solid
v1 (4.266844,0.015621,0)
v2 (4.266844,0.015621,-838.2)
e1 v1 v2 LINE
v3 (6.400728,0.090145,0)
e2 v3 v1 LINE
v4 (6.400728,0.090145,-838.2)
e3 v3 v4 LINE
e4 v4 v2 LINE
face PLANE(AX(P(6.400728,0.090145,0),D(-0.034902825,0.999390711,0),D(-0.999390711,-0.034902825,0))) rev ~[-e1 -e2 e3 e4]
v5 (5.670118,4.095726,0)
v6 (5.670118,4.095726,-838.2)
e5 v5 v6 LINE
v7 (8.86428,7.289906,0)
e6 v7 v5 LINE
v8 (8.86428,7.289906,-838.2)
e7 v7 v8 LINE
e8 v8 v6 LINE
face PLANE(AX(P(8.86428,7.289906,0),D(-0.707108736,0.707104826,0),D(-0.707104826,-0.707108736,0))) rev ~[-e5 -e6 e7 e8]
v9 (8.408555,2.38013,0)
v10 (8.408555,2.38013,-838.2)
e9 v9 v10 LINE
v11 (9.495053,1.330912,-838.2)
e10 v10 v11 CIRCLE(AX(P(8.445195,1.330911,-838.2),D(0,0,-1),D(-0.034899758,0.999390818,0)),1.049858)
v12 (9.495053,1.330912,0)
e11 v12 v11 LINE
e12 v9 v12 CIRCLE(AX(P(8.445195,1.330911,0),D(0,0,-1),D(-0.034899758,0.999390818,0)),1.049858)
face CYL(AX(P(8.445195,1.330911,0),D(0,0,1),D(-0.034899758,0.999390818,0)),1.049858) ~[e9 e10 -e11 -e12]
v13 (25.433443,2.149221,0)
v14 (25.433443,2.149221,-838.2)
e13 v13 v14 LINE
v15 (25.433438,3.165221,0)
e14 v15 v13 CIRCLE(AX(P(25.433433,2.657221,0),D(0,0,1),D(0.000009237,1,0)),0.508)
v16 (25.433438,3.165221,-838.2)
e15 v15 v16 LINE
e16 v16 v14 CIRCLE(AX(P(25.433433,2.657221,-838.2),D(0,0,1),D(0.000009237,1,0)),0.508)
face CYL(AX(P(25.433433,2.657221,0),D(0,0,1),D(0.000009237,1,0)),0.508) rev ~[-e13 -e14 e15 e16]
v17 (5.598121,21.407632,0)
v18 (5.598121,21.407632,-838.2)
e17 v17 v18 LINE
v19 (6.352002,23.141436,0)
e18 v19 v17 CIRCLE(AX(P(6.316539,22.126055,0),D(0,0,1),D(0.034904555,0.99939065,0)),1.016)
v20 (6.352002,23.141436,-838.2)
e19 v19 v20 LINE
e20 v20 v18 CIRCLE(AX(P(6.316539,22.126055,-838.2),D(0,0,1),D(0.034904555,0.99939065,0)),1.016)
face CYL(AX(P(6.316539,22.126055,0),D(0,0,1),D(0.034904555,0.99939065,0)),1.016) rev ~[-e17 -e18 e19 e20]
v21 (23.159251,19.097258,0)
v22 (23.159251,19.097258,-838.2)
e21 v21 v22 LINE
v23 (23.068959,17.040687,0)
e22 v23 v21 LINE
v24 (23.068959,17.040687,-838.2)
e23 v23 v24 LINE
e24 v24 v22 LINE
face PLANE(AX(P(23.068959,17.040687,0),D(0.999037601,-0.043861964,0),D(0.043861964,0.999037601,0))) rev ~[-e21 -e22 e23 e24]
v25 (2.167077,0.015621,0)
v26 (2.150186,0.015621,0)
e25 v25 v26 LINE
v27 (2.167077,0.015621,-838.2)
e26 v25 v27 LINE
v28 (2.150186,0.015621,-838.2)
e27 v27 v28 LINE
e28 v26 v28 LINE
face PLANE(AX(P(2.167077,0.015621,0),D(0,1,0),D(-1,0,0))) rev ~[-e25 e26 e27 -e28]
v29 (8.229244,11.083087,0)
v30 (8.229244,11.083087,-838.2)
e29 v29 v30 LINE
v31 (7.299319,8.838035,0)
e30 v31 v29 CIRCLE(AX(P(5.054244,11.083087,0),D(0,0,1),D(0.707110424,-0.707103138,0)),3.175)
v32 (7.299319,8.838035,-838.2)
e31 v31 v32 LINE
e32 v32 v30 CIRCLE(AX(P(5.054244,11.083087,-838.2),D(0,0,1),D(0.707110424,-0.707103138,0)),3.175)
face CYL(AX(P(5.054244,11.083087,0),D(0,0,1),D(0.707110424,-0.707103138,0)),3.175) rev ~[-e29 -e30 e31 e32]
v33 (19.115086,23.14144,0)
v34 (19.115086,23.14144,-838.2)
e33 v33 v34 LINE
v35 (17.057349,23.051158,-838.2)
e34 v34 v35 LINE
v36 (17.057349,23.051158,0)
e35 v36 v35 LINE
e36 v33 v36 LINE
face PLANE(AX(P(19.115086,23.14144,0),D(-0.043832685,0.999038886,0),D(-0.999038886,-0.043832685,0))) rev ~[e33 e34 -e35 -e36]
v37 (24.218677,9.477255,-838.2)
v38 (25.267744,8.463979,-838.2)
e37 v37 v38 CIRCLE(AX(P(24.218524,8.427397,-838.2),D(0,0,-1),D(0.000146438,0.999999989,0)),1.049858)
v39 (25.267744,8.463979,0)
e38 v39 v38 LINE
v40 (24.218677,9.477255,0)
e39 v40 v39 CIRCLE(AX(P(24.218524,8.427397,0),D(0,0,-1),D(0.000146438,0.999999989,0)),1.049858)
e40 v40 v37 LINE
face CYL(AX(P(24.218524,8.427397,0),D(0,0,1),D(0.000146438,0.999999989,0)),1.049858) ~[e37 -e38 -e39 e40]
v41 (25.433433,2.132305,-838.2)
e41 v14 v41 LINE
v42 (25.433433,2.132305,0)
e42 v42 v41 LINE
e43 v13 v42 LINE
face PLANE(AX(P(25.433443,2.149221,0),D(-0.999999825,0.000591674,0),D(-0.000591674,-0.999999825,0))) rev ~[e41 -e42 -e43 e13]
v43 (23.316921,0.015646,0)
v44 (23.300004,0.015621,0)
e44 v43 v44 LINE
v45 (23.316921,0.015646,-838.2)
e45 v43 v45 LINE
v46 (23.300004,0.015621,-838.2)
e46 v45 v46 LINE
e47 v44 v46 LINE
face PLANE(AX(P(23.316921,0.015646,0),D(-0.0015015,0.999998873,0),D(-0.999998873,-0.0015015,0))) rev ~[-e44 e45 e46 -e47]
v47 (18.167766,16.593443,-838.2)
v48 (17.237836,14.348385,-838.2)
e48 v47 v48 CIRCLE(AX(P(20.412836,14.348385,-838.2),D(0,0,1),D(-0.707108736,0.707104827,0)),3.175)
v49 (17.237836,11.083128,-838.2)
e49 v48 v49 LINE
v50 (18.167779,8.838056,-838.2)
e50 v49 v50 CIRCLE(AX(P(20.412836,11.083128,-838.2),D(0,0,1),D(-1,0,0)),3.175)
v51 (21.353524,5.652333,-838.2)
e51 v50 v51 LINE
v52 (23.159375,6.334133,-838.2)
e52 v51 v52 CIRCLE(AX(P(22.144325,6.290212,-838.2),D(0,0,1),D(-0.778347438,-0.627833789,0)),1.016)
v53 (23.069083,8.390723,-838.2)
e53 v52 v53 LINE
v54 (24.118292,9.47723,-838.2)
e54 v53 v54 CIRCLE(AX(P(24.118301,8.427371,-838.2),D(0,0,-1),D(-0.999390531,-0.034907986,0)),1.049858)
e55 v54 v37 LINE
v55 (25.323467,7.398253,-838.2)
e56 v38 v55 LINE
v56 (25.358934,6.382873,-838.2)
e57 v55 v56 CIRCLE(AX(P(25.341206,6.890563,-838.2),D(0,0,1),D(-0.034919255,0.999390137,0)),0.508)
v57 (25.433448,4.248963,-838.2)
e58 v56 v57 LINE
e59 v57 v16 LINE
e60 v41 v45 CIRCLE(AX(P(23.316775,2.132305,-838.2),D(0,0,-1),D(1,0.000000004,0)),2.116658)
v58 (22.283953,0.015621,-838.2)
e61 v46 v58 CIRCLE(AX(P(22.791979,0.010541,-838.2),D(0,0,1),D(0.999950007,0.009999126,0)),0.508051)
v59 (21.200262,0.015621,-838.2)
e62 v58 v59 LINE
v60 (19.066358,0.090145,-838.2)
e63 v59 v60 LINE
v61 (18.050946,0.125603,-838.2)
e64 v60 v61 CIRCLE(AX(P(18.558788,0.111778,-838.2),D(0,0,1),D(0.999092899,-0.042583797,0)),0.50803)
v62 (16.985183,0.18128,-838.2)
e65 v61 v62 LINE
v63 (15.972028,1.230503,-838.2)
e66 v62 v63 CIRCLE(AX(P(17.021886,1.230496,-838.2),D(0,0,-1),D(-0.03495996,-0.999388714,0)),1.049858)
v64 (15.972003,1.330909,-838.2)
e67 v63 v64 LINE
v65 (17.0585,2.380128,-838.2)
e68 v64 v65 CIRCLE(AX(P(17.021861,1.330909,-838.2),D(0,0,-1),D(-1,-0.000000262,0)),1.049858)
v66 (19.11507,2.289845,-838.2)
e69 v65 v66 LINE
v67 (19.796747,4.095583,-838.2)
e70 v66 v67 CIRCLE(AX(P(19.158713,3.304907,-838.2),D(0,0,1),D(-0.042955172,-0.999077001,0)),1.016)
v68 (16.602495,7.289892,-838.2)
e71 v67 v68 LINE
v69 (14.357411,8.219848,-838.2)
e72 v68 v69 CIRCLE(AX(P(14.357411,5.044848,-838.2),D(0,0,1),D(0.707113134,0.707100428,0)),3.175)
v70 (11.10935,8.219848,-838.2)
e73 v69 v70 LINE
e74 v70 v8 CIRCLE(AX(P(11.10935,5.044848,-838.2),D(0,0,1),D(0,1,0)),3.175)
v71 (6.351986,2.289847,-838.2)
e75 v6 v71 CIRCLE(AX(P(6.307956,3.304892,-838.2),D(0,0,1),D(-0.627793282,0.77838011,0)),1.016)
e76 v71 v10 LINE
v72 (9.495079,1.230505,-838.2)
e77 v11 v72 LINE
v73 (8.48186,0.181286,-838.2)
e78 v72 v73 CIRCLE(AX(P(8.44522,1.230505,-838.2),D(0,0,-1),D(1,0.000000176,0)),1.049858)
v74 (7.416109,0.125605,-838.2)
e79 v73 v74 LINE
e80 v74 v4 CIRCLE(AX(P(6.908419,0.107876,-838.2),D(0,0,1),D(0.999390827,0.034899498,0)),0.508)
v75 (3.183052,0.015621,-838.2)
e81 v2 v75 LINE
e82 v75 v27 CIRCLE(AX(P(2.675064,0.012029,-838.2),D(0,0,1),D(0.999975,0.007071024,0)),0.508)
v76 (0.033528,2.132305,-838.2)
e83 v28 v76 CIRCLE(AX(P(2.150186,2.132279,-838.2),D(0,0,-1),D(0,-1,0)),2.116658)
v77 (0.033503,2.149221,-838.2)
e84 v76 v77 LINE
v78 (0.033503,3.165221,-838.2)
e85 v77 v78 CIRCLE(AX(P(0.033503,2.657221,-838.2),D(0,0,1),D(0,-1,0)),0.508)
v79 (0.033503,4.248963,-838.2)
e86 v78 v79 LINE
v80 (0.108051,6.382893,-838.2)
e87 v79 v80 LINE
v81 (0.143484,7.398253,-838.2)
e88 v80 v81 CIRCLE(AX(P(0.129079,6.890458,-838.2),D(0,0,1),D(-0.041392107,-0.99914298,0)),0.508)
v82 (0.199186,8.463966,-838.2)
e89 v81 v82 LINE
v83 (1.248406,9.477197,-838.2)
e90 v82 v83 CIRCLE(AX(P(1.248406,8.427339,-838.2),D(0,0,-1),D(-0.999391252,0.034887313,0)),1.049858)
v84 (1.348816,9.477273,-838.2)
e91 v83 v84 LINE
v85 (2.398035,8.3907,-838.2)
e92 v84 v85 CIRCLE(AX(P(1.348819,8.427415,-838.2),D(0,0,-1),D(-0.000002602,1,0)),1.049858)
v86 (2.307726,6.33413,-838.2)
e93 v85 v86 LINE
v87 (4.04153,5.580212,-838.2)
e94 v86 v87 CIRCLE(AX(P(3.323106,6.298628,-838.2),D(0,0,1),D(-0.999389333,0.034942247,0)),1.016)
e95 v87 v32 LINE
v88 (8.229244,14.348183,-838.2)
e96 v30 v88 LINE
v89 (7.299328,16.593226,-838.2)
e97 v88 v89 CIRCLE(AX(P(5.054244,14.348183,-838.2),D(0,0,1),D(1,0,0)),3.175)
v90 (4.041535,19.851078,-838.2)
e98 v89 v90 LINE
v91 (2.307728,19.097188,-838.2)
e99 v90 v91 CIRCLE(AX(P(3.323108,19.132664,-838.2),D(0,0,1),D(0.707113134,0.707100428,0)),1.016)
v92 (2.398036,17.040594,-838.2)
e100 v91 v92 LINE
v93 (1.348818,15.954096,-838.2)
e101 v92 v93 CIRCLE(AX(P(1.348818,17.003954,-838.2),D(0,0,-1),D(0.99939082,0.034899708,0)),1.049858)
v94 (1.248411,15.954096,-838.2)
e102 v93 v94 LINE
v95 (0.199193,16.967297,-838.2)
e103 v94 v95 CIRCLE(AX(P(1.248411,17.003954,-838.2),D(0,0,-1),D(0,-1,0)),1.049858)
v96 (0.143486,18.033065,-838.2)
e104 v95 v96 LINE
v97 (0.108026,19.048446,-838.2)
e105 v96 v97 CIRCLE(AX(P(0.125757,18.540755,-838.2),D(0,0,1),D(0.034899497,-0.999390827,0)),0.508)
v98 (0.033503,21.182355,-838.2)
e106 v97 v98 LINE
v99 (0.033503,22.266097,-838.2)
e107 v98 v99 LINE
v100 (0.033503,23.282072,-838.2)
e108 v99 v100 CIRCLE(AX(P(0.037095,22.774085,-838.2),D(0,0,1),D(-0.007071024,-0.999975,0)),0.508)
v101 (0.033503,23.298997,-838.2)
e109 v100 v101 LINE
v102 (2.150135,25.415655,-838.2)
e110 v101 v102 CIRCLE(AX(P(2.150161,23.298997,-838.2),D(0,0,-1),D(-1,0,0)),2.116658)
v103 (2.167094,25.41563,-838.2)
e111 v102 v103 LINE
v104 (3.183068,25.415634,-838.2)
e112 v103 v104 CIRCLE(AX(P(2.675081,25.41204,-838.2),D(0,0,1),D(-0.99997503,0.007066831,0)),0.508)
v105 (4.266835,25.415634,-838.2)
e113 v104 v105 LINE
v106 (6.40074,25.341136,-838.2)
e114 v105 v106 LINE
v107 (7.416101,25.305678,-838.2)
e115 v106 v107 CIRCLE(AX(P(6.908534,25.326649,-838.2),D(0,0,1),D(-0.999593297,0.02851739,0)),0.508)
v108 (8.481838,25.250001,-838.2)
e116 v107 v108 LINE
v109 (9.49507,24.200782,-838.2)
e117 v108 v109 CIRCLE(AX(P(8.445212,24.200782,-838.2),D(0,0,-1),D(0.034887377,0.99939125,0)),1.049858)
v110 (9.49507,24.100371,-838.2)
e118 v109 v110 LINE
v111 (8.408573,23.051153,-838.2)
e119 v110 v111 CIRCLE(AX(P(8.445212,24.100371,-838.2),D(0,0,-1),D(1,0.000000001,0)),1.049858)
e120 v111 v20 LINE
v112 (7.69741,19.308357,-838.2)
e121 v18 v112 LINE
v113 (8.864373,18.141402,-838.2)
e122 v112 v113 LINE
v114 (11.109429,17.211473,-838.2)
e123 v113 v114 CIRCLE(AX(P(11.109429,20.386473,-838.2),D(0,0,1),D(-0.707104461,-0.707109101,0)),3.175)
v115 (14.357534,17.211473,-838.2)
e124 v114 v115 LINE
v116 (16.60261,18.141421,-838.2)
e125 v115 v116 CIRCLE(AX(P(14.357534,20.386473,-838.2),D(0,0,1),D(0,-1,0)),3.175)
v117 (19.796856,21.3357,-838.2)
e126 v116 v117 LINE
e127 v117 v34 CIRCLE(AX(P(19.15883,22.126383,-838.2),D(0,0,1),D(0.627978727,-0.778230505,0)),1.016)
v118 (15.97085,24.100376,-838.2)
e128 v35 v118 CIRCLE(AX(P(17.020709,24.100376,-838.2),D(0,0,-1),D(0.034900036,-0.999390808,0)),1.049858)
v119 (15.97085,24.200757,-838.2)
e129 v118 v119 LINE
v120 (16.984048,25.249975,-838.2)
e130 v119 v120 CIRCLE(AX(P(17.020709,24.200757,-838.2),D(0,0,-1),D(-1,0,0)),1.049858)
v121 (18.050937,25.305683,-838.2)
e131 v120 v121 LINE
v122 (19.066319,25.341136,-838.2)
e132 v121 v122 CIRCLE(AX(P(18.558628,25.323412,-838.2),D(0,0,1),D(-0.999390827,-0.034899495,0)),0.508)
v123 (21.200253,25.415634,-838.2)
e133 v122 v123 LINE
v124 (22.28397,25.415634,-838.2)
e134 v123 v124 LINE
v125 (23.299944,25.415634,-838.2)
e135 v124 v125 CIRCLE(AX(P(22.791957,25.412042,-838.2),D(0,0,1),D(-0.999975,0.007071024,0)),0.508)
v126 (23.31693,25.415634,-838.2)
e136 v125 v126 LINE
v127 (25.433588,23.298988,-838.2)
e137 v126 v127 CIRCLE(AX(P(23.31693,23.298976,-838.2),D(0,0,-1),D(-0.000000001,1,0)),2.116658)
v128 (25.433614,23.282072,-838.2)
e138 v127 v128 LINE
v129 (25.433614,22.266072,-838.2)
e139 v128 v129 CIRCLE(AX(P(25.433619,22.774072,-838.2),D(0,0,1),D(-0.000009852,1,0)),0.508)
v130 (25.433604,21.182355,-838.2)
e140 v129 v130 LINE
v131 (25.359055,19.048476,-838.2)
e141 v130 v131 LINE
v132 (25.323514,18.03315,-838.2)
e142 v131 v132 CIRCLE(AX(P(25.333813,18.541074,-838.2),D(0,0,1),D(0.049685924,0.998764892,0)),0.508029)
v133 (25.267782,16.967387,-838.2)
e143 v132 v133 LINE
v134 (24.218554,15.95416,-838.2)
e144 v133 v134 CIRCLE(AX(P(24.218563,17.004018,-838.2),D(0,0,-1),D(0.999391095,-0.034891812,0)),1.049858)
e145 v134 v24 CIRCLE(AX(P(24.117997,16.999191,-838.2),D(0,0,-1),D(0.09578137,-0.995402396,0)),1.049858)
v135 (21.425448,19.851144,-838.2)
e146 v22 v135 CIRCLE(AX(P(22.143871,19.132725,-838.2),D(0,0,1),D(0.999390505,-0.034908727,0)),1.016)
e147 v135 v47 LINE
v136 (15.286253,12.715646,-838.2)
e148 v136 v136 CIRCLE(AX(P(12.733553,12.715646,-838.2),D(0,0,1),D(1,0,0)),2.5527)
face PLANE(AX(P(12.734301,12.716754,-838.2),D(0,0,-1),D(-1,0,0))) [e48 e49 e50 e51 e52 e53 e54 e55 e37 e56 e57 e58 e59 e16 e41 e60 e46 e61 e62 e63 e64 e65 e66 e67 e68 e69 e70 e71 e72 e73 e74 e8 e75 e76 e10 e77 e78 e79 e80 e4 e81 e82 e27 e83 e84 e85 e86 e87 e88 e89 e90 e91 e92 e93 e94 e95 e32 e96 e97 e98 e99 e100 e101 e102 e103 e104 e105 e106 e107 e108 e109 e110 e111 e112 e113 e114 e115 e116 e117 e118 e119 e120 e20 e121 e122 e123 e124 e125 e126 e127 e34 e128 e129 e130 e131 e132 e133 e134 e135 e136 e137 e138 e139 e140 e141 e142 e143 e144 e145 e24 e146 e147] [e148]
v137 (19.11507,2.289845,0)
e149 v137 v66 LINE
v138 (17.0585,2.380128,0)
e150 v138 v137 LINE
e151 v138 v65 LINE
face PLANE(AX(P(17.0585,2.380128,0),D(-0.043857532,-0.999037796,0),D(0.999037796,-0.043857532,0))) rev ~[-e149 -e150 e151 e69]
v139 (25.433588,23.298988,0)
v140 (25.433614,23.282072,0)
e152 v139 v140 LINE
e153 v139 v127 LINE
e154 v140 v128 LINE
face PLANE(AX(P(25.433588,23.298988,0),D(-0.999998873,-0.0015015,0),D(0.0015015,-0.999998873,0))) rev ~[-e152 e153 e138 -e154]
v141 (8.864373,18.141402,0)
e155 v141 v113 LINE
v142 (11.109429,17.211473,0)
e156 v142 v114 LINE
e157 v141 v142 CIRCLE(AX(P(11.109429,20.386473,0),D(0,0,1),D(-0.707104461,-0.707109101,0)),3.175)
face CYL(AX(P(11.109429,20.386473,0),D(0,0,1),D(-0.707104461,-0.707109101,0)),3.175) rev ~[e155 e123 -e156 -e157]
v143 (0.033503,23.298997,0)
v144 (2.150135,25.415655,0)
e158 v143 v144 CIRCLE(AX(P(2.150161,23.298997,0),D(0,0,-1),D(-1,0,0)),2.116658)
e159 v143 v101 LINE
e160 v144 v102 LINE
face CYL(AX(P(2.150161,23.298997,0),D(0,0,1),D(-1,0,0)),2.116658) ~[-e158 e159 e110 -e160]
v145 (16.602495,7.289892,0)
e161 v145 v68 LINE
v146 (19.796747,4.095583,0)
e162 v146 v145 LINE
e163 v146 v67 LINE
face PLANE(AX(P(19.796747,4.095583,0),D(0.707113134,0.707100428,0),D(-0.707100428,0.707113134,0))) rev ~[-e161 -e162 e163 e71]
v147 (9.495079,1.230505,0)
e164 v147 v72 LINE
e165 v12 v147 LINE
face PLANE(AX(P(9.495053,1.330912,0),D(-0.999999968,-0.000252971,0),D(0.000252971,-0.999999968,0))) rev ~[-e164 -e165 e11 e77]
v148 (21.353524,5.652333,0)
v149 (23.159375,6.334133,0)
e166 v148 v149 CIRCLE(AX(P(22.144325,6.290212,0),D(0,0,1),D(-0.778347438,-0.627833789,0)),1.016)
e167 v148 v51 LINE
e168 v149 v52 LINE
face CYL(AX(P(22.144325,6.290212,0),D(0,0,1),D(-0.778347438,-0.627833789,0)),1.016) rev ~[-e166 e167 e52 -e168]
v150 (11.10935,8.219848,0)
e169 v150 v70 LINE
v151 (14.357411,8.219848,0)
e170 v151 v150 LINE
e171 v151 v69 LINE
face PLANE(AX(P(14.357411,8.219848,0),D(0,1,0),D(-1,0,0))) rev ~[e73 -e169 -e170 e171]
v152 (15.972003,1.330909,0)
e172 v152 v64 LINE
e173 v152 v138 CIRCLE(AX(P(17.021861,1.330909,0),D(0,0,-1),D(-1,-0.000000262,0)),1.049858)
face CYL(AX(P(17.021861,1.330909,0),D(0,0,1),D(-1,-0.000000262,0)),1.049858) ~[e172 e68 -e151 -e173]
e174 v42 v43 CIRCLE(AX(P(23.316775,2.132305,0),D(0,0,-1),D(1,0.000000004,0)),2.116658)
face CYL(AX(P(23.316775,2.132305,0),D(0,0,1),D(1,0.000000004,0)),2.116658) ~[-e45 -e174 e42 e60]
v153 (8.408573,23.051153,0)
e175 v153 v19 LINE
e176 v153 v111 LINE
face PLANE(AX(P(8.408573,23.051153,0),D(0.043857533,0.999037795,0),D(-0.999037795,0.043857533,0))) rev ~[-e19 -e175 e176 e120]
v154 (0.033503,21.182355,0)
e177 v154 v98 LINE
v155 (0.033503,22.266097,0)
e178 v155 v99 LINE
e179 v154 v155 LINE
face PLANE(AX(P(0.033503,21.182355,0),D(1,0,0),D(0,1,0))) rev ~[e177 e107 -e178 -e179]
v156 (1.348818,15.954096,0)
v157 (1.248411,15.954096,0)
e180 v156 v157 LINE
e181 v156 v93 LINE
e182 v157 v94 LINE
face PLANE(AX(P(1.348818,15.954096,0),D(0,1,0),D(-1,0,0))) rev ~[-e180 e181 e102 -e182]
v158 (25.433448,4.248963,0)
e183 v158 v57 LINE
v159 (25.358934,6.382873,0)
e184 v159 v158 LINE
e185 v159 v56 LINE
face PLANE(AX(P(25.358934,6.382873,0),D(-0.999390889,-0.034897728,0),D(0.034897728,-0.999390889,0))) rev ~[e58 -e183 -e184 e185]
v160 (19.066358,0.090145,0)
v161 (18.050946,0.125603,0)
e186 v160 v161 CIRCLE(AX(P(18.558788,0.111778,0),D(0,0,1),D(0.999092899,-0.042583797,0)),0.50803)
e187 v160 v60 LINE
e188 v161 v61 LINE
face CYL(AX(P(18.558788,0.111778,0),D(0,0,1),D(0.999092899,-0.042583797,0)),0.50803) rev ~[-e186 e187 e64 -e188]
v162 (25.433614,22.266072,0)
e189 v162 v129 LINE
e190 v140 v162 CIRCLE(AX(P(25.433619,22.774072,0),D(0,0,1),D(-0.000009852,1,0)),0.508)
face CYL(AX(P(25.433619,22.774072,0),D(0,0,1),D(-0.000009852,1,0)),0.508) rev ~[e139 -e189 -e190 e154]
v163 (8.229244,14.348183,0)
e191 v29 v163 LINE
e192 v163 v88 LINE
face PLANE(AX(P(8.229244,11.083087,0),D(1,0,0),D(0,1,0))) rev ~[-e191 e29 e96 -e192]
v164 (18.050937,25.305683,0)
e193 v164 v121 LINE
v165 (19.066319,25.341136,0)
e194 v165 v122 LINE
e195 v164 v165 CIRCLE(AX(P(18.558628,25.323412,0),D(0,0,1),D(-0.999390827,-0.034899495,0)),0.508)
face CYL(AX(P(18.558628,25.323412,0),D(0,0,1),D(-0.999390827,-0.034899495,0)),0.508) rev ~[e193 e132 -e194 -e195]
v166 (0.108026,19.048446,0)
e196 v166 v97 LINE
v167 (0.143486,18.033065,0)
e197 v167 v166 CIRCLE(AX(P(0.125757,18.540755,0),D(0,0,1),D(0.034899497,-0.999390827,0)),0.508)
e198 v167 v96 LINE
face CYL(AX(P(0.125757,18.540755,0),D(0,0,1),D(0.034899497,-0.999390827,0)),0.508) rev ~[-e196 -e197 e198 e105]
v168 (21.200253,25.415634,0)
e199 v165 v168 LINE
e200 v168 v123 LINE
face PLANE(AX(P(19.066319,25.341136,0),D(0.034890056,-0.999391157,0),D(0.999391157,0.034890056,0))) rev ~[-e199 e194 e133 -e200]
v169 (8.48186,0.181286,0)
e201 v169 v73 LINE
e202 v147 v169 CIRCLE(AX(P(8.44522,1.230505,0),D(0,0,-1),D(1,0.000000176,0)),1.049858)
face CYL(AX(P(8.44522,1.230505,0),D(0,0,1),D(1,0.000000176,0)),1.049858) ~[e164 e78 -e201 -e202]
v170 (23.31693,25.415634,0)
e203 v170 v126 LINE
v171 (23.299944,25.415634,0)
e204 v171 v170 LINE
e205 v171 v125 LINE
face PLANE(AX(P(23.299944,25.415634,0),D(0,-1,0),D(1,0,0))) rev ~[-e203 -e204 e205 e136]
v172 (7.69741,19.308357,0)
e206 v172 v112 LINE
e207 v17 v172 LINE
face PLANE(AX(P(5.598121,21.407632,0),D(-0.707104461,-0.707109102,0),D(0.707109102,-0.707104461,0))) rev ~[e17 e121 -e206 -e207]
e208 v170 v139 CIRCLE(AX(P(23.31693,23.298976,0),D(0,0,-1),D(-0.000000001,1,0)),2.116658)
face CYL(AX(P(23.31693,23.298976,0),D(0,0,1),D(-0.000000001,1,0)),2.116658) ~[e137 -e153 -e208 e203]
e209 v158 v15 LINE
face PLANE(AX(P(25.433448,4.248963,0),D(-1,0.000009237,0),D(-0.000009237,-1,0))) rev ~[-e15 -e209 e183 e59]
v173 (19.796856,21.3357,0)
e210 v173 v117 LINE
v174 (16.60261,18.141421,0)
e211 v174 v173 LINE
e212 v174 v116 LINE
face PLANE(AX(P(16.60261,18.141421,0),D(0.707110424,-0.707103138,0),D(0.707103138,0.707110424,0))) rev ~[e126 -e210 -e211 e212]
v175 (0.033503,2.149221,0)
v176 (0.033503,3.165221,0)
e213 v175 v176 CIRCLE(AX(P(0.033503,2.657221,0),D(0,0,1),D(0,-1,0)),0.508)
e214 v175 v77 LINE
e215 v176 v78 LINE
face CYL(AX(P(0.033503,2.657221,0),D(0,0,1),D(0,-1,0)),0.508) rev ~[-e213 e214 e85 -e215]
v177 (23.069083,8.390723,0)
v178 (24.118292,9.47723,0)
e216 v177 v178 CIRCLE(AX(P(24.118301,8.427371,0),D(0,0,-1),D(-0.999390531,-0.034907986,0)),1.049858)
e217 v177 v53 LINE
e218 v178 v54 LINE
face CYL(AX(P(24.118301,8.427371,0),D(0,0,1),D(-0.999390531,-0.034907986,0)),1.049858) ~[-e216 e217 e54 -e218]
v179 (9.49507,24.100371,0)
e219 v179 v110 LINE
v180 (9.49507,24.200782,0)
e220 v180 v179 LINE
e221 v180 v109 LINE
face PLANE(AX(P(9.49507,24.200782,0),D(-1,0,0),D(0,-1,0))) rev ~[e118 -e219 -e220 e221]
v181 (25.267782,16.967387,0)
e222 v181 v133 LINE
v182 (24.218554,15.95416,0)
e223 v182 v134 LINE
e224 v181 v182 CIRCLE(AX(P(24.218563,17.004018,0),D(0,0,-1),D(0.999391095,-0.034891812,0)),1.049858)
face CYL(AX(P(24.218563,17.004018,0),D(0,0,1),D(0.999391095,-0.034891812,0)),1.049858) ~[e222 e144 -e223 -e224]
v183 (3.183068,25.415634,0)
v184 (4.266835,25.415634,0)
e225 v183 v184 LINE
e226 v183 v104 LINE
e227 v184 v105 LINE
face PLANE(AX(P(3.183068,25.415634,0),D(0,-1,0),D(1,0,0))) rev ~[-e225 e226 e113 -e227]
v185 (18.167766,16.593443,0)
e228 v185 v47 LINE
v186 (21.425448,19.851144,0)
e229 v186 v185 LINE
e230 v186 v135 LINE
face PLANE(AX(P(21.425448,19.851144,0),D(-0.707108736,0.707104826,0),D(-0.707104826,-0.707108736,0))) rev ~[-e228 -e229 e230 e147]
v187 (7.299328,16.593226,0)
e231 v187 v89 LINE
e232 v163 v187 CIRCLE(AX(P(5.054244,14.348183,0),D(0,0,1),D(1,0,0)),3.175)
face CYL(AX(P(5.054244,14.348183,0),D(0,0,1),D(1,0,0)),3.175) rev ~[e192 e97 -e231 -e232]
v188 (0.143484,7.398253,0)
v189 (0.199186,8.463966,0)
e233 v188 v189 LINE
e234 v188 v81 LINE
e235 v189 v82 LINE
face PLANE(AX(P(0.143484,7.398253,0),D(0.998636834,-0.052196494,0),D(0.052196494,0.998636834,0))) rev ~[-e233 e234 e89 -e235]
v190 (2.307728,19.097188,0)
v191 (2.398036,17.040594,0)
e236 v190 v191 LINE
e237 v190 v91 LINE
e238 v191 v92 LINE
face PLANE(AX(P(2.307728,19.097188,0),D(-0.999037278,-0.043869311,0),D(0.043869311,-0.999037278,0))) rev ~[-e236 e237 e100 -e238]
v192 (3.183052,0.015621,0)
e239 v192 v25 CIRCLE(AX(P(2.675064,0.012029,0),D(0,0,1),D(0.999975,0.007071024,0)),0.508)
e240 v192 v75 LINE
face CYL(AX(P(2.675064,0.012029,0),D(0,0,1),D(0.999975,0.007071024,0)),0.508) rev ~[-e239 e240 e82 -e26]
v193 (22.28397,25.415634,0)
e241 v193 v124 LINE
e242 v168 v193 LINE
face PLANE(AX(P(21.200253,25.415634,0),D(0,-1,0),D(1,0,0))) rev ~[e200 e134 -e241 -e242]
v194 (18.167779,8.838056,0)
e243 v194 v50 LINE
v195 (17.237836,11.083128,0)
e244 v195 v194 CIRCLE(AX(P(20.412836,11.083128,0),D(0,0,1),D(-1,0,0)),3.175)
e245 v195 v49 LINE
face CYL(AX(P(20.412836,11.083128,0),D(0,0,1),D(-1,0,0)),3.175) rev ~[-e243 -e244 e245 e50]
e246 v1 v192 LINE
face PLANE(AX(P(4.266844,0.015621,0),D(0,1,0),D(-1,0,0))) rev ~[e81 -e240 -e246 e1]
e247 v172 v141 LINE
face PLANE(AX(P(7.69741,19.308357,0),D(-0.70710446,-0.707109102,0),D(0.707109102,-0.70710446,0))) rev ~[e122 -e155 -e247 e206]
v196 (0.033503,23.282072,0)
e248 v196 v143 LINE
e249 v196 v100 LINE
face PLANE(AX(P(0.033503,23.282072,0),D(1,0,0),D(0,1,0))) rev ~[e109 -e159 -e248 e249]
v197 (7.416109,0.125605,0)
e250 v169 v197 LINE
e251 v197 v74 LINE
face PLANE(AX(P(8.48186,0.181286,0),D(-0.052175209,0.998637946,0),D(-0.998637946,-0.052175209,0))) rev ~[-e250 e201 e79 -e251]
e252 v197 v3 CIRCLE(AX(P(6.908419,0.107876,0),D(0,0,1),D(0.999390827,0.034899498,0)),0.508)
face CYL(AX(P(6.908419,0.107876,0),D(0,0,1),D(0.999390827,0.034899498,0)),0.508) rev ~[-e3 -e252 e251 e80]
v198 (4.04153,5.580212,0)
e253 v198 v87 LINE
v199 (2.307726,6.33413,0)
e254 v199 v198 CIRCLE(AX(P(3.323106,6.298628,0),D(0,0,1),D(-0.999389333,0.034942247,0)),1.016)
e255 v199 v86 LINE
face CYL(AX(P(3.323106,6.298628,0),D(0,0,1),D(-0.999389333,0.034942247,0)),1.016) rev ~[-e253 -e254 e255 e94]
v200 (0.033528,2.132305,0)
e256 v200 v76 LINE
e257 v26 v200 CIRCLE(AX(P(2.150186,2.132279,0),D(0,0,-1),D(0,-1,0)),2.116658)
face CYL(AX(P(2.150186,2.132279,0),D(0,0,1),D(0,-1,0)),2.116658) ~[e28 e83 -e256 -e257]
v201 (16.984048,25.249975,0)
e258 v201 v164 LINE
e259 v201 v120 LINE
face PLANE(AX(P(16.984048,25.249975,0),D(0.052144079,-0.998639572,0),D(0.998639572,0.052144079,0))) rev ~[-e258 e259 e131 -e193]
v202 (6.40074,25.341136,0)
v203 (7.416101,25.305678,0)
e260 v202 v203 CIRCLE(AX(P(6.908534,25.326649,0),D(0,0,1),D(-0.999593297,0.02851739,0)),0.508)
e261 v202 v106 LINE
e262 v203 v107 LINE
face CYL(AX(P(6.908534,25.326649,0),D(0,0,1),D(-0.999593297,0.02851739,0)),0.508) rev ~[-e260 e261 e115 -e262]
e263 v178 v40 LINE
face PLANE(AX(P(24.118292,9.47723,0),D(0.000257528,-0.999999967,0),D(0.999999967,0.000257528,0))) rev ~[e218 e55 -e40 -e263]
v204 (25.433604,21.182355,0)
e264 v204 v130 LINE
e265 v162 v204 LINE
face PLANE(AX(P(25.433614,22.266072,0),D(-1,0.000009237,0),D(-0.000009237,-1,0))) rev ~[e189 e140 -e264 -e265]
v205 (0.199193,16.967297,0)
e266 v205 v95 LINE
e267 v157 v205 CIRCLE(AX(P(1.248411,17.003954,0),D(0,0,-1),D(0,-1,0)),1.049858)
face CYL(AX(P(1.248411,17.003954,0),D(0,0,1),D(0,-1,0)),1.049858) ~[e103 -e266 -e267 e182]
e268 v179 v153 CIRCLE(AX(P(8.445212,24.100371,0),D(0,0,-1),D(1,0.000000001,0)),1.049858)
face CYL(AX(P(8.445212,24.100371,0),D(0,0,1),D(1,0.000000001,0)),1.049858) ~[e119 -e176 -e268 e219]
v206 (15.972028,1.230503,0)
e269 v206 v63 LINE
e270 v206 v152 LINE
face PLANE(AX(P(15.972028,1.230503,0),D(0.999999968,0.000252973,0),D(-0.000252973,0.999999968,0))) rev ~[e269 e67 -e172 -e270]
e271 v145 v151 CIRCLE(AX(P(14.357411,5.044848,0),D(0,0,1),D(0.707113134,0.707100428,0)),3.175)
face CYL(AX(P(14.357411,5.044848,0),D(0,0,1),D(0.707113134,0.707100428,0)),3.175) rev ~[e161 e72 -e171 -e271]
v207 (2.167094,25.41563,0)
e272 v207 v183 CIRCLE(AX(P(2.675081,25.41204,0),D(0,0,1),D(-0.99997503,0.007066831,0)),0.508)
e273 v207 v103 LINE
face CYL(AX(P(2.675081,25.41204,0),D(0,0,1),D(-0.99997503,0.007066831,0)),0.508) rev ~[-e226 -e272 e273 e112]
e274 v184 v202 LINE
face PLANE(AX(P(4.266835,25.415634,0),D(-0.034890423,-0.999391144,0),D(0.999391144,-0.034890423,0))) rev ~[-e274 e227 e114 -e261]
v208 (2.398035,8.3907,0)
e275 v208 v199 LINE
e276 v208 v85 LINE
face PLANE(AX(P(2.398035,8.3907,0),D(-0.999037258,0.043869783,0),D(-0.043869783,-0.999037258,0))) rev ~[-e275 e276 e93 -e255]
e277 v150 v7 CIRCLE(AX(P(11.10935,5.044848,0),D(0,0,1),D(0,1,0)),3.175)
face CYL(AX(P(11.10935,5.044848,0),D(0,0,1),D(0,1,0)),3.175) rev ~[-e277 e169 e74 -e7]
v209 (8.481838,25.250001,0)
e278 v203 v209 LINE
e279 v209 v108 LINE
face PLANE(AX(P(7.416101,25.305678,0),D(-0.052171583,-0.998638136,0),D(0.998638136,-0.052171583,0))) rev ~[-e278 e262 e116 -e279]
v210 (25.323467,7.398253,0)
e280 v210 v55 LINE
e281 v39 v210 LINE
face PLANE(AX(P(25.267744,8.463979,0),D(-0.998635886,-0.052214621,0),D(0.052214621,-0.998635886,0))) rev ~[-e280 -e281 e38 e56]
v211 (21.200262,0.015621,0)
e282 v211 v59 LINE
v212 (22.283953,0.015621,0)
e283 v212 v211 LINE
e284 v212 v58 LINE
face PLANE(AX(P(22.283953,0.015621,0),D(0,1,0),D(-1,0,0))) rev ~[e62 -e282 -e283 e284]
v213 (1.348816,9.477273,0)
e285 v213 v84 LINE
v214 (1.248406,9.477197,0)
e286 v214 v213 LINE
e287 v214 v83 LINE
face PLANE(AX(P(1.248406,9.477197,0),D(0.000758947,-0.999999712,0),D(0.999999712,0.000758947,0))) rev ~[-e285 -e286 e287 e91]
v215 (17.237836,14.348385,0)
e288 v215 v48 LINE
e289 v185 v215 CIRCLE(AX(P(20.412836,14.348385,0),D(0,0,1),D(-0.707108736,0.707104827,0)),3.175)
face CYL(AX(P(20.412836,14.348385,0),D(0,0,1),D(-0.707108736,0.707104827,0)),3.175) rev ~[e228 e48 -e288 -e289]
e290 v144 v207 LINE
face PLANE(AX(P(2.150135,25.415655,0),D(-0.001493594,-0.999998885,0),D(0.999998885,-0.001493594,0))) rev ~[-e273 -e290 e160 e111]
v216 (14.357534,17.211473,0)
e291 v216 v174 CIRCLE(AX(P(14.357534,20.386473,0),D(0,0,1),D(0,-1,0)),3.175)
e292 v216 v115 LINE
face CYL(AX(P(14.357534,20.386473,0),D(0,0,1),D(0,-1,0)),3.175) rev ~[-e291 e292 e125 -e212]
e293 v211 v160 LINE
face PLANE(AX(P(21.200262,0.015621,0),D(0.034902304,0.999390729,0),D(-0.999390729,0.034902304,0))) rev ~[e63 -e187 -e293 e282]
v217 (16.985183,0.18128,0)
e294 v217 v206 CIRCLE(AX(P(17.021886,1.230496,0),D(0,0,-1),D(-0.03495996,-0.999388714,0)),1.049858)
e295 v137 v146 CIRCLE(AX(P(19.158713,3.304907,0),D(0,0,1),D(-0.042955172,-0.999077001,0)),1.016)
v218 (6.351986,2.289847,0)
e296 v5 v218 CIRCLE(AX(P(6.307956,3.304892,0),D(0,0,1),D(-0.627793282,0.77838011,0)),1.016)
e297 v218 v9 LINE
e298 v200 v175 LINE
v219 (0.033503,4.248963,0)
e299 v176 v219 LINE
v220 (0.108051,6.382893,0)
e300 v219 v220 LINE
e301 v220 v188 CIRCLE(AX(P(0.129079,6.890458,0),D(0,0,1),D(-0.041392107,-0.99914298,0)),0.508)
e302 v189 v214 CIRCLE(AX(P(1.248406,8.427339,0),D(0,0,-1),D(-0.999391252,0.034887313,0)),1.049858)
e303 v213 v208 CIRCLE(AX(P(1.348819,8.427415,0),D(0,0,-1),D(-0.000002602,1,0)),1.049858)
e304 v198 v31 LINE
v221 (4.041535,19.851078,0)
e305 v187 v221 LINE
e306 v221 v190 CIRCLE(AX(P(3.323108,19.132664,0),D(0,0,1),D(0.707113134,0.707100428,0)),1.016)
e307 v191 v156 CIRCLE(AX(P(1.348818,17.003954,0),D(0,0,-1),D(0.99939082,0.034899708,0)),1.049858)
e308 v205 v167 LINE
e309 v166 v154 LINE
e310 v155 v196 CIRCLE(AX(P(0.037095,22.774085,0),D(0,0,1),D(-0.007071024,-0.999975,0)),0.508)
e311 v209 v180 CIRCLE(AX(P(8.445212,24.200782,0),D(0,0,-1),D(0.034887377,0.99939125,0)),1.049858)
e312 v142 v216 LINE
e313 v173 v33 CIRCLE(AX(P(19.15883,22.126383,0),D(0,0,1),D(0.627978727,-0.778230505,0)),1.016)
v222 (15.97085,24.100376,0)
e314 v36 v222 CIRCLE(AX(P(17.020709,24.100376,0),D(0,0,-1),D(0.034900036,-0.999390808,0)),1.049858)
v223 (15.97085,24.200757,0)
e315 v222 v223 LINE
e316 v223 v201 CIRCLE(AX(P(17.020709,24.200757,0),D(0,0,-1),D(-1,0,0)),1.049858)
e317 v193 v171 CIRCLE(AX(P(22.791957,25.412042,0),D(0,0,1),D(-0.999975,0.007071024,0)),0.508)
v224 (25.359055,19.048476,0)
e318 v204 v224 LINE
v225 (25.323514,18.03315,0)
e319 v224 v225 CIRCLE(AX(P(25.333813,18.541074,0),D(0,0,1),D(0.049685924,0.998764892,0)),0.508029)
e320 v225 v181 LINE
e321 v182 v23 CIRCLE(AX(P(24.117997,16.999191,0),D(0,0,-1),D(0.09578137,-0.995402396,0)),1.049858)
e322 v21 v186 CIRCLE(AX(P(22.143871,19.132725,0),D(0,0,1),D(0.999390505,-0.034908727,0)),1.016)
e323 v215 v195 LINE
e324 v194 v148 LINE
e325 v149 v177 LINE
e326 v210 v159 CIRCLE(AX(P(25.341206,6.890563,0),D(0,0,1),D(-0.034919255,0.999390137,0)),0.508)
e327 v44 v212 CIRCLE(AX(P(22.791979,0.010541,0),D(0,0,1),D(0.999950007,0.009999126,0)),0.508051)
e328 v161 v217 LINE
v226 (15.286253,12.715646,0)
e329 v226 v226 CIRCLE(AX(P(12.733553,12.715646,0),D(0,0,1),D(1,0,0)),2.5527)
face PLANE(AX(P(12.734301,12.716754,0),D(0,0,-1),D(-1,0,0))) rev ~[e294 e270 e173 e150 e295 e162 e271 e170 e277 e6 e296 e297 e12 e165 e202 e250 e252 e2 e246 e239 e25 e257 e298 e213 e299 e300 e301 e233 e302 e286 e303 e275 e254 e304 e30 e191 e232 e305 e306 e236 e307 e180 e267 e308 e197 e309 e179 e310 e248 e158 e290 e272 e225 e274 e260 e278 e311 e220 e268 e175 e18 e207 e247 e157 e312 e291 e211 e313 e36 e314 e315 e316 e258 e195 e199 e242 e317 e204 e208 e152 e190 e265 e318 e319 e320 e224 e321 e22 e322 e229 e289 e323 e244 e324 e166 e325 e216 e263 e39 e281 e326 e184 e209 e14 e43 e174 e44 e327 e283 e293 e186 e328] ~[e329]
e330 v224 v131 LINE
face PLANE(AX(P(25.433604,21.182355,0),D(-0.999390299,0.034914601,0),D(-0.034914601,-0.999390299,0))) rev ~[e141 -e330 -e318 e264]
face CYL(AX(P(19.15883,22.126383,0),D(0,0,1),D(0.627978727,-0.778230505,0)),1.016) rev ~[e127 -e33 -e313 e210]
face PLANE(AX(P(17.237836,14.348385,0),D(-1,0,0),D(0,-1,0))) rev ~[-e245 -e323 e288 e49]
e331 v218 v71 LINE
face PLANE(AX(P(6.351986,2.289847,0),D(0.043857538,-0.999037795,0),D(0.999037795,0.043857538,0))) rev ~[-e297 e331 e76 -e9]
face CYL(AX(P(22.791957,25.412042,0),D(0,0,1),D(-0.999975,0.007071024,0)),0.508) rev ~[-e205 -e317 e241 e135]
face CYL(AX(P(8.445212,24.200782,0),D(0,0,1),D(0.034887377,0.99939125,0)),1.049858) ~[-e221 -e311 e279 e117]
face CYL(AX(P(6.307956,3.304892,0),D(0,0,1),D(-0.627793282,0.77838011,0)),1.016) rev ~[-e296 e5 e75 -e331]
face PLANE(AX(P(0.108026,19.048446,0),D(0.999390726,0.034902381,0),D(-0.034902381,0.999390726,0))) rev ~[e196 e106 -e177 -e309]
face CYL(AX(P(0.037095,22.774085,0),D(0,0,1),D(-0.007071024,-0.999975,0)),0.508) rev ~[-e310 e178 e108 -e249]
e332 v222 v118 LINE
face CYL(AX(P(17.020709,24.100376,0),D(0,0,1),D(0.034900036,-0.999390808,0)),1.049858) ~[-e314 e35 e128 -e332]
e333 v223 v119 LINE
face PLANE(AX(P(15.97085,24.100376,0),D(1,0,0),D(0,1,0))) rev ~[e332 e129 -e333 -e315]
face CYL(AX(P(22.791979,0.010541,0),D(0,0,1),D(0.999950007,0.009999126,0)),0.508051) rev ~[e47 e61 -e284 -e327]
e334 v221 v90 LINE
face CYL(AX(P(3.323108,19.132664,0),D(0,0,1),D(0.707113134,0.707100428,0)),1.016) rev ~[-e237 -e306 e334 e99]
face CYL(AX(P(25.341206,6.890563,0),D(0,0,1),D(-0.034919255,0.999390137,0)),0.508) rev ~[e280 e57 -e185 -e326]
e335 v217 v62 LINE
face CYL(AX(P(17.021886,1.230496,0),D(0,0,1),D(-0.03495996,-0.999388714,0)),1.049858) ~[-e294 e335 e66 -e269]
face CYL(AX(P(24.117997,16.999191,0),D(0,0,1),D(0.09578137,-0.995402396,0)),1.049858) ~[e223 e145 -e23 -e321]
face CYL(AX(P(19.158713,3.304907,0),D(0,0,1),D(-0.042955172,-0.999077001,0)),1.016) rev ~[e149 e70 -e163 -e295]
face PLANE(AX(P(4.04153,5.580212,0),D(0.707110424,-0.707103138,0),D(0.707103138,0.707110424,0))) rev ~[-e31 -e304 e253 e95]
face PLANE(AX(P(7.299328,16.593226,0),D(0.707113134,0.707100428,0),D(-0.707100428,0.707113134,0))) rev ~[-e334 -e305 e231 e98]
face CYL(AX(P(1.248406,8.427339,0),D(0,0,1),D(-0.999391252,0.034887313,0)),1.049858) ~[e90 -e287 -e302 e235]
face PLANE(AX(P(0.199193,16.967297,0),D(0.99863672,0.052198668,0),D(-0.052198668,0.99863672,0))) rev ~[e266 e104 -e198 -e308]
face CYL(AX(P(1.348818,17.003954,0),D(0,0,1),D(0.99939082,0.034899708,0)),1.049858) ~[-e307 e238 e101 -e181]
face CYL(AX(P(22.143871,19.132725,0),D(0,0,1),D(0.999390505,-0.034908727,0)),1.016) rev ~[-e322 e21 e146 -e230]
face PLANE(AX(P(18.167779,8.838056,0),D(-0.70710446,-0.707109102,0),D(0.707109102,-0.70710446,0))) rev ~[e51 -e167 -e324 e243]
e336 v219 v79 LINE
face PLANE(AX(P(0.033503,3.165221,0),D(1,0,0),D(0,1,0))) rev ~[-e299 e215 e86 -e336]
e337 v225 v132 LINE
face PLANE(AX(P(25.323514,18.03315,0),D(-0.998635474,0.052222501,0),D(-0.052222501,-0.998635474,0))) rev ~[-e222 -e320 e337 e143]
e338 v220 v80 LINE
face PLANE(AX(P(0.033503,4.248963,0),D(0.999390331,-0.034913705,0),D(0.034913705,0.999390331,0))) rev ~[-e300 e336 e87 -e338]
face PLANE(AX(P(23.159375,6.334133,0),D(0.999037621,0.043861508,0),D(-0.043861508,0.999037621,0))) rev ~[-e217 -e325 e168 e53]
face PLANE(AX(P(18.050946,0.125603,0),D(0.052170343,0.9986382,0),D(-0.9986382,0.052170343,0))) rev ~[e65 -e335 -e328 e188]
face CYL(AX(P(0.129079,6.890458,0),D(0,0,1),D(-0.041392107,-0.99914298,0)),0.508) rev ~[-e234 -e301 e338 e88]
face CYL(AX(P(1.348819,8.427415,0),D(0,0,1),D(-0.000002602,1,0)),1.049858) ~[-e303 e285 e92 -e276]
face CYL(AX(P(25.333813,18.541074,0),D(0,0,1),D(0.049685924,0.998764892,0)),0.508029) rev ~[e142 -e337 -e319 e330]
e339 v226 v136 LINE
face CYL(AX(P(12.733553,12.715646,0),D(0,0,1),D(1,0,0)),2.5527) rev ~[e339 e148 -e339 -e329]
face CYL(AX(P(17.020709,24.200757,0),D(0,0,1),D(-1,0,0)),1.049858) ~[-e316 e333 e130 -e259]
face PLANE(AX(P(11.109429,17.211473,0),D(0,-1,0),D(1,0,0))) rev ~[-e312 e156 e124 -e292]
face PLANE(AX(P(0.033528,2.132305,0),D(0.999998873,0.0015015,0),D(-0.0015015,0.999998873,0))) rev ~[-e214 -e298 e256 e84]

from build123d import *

# Parameters (mm, degrees)
SKETCH1_R      = 2.5527
EXTRUDE1_DEPTH = 838.2


with BuildPart() as part:
    # Sketch1 → Extrude1 (new body)
    with BuildSketch(Plane.XY):
        with BuildLine():
            Line((25.433443131, 2.149221002), (25.433433122, 2.132304602))
            ThreePointArc((25.433433122, 2.132304602), (24.81352977, 0.635652711), (23.316920529, 0.0156464))
            Line((23.316920529, 0.0156464), (23.300004129, 0.015621))
            ThreePointArc((23.300004129, 0.015621), (22.791978729, 0.518591735), (22.283953329, 0.015621))
            Line((22.283953329, 0.015621), (21.200262329, 0.015621))
            Line((21.200262329, 0.015621), (19.066357529, 0.0901446))
            ThreePointArc((19.066357529, 0.0901446), (18.57651791, 0.619499034), (18.050946389, 0.125602744))
            Line((18.050946389, 0.125602744), (16.985183129, 0.1812798))
            ThreePointArc((16.985183129, 0.1812798), (16.266656931, 0.501228728), (15.972027929, 1.230503))
            Line((15.972027929, 1.230503), (15.972002529, 1.330908925))
            ThreePointArc((15.972002529, 1.330908925), (16.292567692, 2.086113746), (17.058499831, 2.380127869))
            Line((17.058499831, 2.380127869), (19.115070367, 2.28984489))
            ThreePointArc((19.115070367, 2.28984489), (20.109237927, 2.946078438), (19.79674691, 4.095583101))
            Line((19.79674691, 4.095583101), (16.602495326, 7.289892083))
            ThreePointArc((16.602495326, 7.289892083), (15.5724442, 7.978160281), (14.357411125, 8.219848224))
            Line((14.357411125, 8.219848224), (12.733578665, 8.219848224))
            Line((12.733578665, 8.219848224), (11.109350265, 8.219848224))
            ThreePointArc((11.109350265, 8.219848224), (9.894326313, 7.97816406), (8.864280029, 7.289906048))
            Line((8.864280029, 7.289906048), (5.670118065, 4.095726424))
            ThreePointArc((5.670118065, 4.095726424), (5.357454926, 2.946), (6.351985959, 2.289846732))
            Line((6.351985959, 2.289846732), (8.408555268, 2.380129669))
            ThreePointArc((8.408555268, 2.380129669), (9.174487549, 2.086116104), (9.495053265, 1.330911592))
            Line((9.495053265, 1.330911592), (9.495078665, 1.230505007))
            ThreePointArc((9.495078665, 1.230505007), (9.200425317, 0.501212103), (8.481859988, 0.181286169))
            Line((8.481859988, 0.181286169), (7.416109406, 0.125604568))
            ThreePointArc((7.416109406, 0.125604568), (6.890689076, 0.615566134), (6.400728384, 0.090144989))
            Line((6.400728384, 0.090144989), (4.266844329, 0.015621))
            Line((4.266844329, 0.015621), (3.183051729, 0.015621))
            ThreePointArc((3.183051729, 0.015621), (2.675064429, 0.52002892), (2.167077129, 0.015621))
            Line((2.167077129, 0.015621), (2.150186129, 0.015621))
            ThreePointArc((2.150186129, 0.015621), (0.653473782, 0.635584814), (0.033527929, 2.1323046))
            Line((0.033527929, 2.1323046), (0.033502529, 2.149221))
            ThreePointArc((0.033502529, 2.149221), (0.541502529, 2.657221), (0.033502529, 3.165221))
            Line((0.033502529, 3.165221), (0.033502529, 4.2489628))
            Line((0.033502529, 4.2489628), (0.108051389, 6.382893005))
            ThreePointArc((0.108051389, 6.382893005), (0.636769546, 6.872740923), (0.143484067, 7.398253347))
            Line((0.143484067, 7.398253347), (0.199186453, 8.463965811))
            ThreePointArc((0.199186453, 8.463965811), (0.519108205, 9.182539461), (1.248405666, 9.47719728))
            Line((1.248405666, 9.47719728), (1.348815787, 9.477273486))
            ThreePointArc((1.348815787, 9.477273486), (2.104048619, 9.15668186), (2.398034533, 8.3907002))
            Line((2.398034533, 8.3907002), (2.307726292, 6.334129777))
            ThreePointArc((2.307726292, 6.334129777), (2.917959272, 5.36690304), (4.041530045, 5.580211665))
            Line((4.041530045, 5.580211665), (7.299319478, 8.838034664))
            ThreePointArc((7.299319478, 8.838034664), (7.987564527, 9.868074786), (8.229243882, 11.083087128))
            Line((8.229243882, 11.083087128), (8.229243882, 12.715595928))
            Line((8.229243882, 12.715595928), (8.229243882, 14.348182637))
            ThreePointArc((8.229243882, 14.348182637), (7.987566856, 15.563189358), (7.299328083, 16.593226497))
            Line((7.299328083, 16.593226497), (4.041535389, 19.85107773))
            ThreePointArc((4.041535389, 19.85107773), (2.917975571, 20.06439507), (2.307727974, 19.09718836))
            Line((2.307727974, 19.09718836), (2.398036312, 17.040593596))
            ThreePointArc((2.398036312, 17.040593596), (2.10402253, 16.274661146), (1.348817665, 15.954095654))
            Line((1.348817665, 15.954095654), (1.248411465, 15.954095654))
            ThreePointArc((1.248411465, 15.954095654), (0.519124814, 16.248743141), (0.199193406, 16.967297282))
            Line((0.199193406, 16.967297282), (0.14348581, 18.033064914))
            ThreePointArc((0.14348581, 18.033064914), (0.63344738, 18.558485131), (0.108026456, 19.048445943))
            Line((0.108026456, 19.048445943), (0.033502529, 21.1823554))
            Line((0.033502529, 21.1823554), (0.033502529, 22.2660972))
            ThreePointArc((0.033502529, 22.2660972), (0.545094609, 22.7740845), (0.033502529, 23.2820718))
            Line((0.033502529, 23.2820718), (0.033502529, 23.298997075))
            ThreePointArc((0.033502529, 23.298997075), (0.653448354, 24.795691433), (2.15013525, 25.415655275))
            Line((2.15013525, 25.415655275), (2.167093654, 25.415629946))
            ThreePointArc((2.167093654, 25.415629946), (2.675083099, 24.904039996), (3.183068254, 25.415634206))
            Line((3.183068254, 25.415634206), (4.266835454, 25.415634206))
            Line((4.266835454, 25.415634206), (6.400740254, 25.341136006))
            ThreePointArc((6.400740254, 25.341136006), (6.890804215, 24.818958649), (7.416100594, 25.305677862))
            Line((7.416100594, 25.305677862), (8.481838454, 25.250000806))
            ThreePointArc((8.481838454, 25.250000806), (9.200412021, 24.930079072), (9.495069854, 24.200781707))
            Line((9.495069854, 24.200781707), (9.495069854, 24.100371406))
            ThreePointArc((9.495069854, 24.100371406), (9.174504645, 23.345166815), (8.408572699, 23.051152732))
            Line((8.408572699, 23.051152732), (6.352002282, 23.141435707))
            ThreePointArc((6.352002282, 23.141435707), (5.384806579, 22.531184689), (5.598121123, 21.407631959))
            Line((5.598121123, 21.407631959), (7.697410254, 19.308356606))
            Line((7.697410254, 19.308356606), (8.864372763, 18.141401758))
            ThreePointArc((8.864372763, 18.141401758), (9.894414341, 17.453153646), (11.109429425, 17.211473156))
            Line((11.109429425, 17.211473156), (12.733581625, 17.211473156))
            Line((12.733581625, 17.211473156), (14.357534054, 17.211473156))
            ThreePointArc((14.357534054, 17.211473156), (15.572561508, 17.45315877), (16.60260965, 18.141420692))
            Line((16.60260965, 18.141420692), (19.796856475, 21.335700428))
            ThreePointArc((19.796856475, 21.335700428), (20.109338963, 22.485254296), (19.115085927, 23.141440475))
            Line((19.115085927, 23.141440475), (17.057348777, 23.051157558))
            ThreePointArc((17.057348777, 23.051157558), (16.291416105, 23.345171208), (15.970850487, 24.100376193))
            Line((15.970850487, 24.100376193), (15.970850487, 24.200756993))
            ThreePointArc((15.970850487, 24.200756993), (16.265496714, 24.930042339), (16.98404849, 25.249974926))
            Line((16.98404849, 25.249974926), (18.050937347, 25.305682649))
            ThreePointArc((18.050937347, 25.305682649), (18.576354433, 24.815720969), (19.066318594, 25.341135742))
            Line((19.066318594, 25.341135742), (21.200253454, 25.415634206))
            Line((21.200253454, 25.415634206), (22.283969854, 25.415634206))
            ThreePointArc((22.283969854, 25.415634206), (22.791957154, 24.904042126), (23.299944454, 25.415634206))
            Line((23.299944454, 25.415634206), (23.316930297, 25.415634206))
            ThreePointArc((23.316930297, 25.415634206), (24.813629353, 24.795683684), (25.433588497, 23.2989882))
            Line((25.433588497, 23.2989882), (25.433613897, 23.2820718))
            ThreePointArc((25.433613897, 23.2820718), (24.925618902, 22.774071644), (25.43361421, 22.2660718))
            Line((25.43361421, 22.2660718), (25.4336042, 21.1823554))
            Line((25.4336042, 21.1823554), (25.3590552, 19.048476))
            ThreePointArc((25.3590552, 19.048476), (24.826095097, 18.558846649), (25.323514364, 18.033149546))
            Line((25.323514364, 18.033149546), (25.267781506, 16.967386543))
            ThreePointArc((25.267781506, 16.967386543), (24.947855109, 16.248812971), (24.21855381, 15.954159797))
            ThreePointArc((24.21855381, 15.954159797), (23.396859234, 16.236195338), (23.068959156, 17.040687453))
            Line((23.068959156, 17.040687453), (23.159251265, 19.097257735))
            ThreePointArc((23.159251265, 19.097257735), (22.549002581, 20.064456727), (21.425448036, 19.851143506))
            Line((21.425448036, 19.851143506), (18.167765516, 16.593442973))
            ThreePointArc((18.167765516, 16.593442973), (17.479516557, 15.563400992), (17.237835752, 14.348385149))
            Line((17.237835752, 14.348385149), (17.237835752, 12.715636694))
            Line((17.237835752, 12.715636694), (17.237835752, 11.083127894))
            ThreePointArc((17.237835752, 11.083127894), (17.47952023, 9.868103183), (18.16777909, 8.838056496))
            Line((18.16777909, 8.838056496), (21.353523773, 5.652332724))
            ThreePointArc((21.353523773, 5.652332724), (22.503190772, 5.339700837), (23.159374985, 6.334132928))
            Line((23.159374985, 6.334132928), (23.069082951, 8.390722922))
            ThreePointArc((23.069082951, 8.390722922), (23.363090217, 9.15665763), (24.118292102, 9.477229556))
            Line((24.118292102, 9.477229556), (24.218677373, 9.477255408))
            ThreePointArc((24.218677373, 9.477255408), (24.94789253, 9.182528501), (25.267744306, 8.463978895))
            Line((25.267744306, 8.463978895), (25.323466772, 7.398253367))
            ThreePointArc((25.323466772, 7.398253367), (24.833515373, 6.872829664), (25.358933799, 6.382872606))
            Line((25.358933799, 6.382872606), (25.43344779, 4.248962801))
            Line((25.43344779, 4.248962801), (25.43343778, 3.165221001))
            ThreePointArc((25.43343778, 3.165221001), (24.925433088, 2.657218326), (25.433443131, 2.149221002))
        make_face()
        with Locations((12.7335534, 12.7156464)):
            Circle(SKETCH1_R, mode=Mode.SUBTRACT)
    extrude(amount=-EXTRUDE1_DEPTH)


solid = part.part
